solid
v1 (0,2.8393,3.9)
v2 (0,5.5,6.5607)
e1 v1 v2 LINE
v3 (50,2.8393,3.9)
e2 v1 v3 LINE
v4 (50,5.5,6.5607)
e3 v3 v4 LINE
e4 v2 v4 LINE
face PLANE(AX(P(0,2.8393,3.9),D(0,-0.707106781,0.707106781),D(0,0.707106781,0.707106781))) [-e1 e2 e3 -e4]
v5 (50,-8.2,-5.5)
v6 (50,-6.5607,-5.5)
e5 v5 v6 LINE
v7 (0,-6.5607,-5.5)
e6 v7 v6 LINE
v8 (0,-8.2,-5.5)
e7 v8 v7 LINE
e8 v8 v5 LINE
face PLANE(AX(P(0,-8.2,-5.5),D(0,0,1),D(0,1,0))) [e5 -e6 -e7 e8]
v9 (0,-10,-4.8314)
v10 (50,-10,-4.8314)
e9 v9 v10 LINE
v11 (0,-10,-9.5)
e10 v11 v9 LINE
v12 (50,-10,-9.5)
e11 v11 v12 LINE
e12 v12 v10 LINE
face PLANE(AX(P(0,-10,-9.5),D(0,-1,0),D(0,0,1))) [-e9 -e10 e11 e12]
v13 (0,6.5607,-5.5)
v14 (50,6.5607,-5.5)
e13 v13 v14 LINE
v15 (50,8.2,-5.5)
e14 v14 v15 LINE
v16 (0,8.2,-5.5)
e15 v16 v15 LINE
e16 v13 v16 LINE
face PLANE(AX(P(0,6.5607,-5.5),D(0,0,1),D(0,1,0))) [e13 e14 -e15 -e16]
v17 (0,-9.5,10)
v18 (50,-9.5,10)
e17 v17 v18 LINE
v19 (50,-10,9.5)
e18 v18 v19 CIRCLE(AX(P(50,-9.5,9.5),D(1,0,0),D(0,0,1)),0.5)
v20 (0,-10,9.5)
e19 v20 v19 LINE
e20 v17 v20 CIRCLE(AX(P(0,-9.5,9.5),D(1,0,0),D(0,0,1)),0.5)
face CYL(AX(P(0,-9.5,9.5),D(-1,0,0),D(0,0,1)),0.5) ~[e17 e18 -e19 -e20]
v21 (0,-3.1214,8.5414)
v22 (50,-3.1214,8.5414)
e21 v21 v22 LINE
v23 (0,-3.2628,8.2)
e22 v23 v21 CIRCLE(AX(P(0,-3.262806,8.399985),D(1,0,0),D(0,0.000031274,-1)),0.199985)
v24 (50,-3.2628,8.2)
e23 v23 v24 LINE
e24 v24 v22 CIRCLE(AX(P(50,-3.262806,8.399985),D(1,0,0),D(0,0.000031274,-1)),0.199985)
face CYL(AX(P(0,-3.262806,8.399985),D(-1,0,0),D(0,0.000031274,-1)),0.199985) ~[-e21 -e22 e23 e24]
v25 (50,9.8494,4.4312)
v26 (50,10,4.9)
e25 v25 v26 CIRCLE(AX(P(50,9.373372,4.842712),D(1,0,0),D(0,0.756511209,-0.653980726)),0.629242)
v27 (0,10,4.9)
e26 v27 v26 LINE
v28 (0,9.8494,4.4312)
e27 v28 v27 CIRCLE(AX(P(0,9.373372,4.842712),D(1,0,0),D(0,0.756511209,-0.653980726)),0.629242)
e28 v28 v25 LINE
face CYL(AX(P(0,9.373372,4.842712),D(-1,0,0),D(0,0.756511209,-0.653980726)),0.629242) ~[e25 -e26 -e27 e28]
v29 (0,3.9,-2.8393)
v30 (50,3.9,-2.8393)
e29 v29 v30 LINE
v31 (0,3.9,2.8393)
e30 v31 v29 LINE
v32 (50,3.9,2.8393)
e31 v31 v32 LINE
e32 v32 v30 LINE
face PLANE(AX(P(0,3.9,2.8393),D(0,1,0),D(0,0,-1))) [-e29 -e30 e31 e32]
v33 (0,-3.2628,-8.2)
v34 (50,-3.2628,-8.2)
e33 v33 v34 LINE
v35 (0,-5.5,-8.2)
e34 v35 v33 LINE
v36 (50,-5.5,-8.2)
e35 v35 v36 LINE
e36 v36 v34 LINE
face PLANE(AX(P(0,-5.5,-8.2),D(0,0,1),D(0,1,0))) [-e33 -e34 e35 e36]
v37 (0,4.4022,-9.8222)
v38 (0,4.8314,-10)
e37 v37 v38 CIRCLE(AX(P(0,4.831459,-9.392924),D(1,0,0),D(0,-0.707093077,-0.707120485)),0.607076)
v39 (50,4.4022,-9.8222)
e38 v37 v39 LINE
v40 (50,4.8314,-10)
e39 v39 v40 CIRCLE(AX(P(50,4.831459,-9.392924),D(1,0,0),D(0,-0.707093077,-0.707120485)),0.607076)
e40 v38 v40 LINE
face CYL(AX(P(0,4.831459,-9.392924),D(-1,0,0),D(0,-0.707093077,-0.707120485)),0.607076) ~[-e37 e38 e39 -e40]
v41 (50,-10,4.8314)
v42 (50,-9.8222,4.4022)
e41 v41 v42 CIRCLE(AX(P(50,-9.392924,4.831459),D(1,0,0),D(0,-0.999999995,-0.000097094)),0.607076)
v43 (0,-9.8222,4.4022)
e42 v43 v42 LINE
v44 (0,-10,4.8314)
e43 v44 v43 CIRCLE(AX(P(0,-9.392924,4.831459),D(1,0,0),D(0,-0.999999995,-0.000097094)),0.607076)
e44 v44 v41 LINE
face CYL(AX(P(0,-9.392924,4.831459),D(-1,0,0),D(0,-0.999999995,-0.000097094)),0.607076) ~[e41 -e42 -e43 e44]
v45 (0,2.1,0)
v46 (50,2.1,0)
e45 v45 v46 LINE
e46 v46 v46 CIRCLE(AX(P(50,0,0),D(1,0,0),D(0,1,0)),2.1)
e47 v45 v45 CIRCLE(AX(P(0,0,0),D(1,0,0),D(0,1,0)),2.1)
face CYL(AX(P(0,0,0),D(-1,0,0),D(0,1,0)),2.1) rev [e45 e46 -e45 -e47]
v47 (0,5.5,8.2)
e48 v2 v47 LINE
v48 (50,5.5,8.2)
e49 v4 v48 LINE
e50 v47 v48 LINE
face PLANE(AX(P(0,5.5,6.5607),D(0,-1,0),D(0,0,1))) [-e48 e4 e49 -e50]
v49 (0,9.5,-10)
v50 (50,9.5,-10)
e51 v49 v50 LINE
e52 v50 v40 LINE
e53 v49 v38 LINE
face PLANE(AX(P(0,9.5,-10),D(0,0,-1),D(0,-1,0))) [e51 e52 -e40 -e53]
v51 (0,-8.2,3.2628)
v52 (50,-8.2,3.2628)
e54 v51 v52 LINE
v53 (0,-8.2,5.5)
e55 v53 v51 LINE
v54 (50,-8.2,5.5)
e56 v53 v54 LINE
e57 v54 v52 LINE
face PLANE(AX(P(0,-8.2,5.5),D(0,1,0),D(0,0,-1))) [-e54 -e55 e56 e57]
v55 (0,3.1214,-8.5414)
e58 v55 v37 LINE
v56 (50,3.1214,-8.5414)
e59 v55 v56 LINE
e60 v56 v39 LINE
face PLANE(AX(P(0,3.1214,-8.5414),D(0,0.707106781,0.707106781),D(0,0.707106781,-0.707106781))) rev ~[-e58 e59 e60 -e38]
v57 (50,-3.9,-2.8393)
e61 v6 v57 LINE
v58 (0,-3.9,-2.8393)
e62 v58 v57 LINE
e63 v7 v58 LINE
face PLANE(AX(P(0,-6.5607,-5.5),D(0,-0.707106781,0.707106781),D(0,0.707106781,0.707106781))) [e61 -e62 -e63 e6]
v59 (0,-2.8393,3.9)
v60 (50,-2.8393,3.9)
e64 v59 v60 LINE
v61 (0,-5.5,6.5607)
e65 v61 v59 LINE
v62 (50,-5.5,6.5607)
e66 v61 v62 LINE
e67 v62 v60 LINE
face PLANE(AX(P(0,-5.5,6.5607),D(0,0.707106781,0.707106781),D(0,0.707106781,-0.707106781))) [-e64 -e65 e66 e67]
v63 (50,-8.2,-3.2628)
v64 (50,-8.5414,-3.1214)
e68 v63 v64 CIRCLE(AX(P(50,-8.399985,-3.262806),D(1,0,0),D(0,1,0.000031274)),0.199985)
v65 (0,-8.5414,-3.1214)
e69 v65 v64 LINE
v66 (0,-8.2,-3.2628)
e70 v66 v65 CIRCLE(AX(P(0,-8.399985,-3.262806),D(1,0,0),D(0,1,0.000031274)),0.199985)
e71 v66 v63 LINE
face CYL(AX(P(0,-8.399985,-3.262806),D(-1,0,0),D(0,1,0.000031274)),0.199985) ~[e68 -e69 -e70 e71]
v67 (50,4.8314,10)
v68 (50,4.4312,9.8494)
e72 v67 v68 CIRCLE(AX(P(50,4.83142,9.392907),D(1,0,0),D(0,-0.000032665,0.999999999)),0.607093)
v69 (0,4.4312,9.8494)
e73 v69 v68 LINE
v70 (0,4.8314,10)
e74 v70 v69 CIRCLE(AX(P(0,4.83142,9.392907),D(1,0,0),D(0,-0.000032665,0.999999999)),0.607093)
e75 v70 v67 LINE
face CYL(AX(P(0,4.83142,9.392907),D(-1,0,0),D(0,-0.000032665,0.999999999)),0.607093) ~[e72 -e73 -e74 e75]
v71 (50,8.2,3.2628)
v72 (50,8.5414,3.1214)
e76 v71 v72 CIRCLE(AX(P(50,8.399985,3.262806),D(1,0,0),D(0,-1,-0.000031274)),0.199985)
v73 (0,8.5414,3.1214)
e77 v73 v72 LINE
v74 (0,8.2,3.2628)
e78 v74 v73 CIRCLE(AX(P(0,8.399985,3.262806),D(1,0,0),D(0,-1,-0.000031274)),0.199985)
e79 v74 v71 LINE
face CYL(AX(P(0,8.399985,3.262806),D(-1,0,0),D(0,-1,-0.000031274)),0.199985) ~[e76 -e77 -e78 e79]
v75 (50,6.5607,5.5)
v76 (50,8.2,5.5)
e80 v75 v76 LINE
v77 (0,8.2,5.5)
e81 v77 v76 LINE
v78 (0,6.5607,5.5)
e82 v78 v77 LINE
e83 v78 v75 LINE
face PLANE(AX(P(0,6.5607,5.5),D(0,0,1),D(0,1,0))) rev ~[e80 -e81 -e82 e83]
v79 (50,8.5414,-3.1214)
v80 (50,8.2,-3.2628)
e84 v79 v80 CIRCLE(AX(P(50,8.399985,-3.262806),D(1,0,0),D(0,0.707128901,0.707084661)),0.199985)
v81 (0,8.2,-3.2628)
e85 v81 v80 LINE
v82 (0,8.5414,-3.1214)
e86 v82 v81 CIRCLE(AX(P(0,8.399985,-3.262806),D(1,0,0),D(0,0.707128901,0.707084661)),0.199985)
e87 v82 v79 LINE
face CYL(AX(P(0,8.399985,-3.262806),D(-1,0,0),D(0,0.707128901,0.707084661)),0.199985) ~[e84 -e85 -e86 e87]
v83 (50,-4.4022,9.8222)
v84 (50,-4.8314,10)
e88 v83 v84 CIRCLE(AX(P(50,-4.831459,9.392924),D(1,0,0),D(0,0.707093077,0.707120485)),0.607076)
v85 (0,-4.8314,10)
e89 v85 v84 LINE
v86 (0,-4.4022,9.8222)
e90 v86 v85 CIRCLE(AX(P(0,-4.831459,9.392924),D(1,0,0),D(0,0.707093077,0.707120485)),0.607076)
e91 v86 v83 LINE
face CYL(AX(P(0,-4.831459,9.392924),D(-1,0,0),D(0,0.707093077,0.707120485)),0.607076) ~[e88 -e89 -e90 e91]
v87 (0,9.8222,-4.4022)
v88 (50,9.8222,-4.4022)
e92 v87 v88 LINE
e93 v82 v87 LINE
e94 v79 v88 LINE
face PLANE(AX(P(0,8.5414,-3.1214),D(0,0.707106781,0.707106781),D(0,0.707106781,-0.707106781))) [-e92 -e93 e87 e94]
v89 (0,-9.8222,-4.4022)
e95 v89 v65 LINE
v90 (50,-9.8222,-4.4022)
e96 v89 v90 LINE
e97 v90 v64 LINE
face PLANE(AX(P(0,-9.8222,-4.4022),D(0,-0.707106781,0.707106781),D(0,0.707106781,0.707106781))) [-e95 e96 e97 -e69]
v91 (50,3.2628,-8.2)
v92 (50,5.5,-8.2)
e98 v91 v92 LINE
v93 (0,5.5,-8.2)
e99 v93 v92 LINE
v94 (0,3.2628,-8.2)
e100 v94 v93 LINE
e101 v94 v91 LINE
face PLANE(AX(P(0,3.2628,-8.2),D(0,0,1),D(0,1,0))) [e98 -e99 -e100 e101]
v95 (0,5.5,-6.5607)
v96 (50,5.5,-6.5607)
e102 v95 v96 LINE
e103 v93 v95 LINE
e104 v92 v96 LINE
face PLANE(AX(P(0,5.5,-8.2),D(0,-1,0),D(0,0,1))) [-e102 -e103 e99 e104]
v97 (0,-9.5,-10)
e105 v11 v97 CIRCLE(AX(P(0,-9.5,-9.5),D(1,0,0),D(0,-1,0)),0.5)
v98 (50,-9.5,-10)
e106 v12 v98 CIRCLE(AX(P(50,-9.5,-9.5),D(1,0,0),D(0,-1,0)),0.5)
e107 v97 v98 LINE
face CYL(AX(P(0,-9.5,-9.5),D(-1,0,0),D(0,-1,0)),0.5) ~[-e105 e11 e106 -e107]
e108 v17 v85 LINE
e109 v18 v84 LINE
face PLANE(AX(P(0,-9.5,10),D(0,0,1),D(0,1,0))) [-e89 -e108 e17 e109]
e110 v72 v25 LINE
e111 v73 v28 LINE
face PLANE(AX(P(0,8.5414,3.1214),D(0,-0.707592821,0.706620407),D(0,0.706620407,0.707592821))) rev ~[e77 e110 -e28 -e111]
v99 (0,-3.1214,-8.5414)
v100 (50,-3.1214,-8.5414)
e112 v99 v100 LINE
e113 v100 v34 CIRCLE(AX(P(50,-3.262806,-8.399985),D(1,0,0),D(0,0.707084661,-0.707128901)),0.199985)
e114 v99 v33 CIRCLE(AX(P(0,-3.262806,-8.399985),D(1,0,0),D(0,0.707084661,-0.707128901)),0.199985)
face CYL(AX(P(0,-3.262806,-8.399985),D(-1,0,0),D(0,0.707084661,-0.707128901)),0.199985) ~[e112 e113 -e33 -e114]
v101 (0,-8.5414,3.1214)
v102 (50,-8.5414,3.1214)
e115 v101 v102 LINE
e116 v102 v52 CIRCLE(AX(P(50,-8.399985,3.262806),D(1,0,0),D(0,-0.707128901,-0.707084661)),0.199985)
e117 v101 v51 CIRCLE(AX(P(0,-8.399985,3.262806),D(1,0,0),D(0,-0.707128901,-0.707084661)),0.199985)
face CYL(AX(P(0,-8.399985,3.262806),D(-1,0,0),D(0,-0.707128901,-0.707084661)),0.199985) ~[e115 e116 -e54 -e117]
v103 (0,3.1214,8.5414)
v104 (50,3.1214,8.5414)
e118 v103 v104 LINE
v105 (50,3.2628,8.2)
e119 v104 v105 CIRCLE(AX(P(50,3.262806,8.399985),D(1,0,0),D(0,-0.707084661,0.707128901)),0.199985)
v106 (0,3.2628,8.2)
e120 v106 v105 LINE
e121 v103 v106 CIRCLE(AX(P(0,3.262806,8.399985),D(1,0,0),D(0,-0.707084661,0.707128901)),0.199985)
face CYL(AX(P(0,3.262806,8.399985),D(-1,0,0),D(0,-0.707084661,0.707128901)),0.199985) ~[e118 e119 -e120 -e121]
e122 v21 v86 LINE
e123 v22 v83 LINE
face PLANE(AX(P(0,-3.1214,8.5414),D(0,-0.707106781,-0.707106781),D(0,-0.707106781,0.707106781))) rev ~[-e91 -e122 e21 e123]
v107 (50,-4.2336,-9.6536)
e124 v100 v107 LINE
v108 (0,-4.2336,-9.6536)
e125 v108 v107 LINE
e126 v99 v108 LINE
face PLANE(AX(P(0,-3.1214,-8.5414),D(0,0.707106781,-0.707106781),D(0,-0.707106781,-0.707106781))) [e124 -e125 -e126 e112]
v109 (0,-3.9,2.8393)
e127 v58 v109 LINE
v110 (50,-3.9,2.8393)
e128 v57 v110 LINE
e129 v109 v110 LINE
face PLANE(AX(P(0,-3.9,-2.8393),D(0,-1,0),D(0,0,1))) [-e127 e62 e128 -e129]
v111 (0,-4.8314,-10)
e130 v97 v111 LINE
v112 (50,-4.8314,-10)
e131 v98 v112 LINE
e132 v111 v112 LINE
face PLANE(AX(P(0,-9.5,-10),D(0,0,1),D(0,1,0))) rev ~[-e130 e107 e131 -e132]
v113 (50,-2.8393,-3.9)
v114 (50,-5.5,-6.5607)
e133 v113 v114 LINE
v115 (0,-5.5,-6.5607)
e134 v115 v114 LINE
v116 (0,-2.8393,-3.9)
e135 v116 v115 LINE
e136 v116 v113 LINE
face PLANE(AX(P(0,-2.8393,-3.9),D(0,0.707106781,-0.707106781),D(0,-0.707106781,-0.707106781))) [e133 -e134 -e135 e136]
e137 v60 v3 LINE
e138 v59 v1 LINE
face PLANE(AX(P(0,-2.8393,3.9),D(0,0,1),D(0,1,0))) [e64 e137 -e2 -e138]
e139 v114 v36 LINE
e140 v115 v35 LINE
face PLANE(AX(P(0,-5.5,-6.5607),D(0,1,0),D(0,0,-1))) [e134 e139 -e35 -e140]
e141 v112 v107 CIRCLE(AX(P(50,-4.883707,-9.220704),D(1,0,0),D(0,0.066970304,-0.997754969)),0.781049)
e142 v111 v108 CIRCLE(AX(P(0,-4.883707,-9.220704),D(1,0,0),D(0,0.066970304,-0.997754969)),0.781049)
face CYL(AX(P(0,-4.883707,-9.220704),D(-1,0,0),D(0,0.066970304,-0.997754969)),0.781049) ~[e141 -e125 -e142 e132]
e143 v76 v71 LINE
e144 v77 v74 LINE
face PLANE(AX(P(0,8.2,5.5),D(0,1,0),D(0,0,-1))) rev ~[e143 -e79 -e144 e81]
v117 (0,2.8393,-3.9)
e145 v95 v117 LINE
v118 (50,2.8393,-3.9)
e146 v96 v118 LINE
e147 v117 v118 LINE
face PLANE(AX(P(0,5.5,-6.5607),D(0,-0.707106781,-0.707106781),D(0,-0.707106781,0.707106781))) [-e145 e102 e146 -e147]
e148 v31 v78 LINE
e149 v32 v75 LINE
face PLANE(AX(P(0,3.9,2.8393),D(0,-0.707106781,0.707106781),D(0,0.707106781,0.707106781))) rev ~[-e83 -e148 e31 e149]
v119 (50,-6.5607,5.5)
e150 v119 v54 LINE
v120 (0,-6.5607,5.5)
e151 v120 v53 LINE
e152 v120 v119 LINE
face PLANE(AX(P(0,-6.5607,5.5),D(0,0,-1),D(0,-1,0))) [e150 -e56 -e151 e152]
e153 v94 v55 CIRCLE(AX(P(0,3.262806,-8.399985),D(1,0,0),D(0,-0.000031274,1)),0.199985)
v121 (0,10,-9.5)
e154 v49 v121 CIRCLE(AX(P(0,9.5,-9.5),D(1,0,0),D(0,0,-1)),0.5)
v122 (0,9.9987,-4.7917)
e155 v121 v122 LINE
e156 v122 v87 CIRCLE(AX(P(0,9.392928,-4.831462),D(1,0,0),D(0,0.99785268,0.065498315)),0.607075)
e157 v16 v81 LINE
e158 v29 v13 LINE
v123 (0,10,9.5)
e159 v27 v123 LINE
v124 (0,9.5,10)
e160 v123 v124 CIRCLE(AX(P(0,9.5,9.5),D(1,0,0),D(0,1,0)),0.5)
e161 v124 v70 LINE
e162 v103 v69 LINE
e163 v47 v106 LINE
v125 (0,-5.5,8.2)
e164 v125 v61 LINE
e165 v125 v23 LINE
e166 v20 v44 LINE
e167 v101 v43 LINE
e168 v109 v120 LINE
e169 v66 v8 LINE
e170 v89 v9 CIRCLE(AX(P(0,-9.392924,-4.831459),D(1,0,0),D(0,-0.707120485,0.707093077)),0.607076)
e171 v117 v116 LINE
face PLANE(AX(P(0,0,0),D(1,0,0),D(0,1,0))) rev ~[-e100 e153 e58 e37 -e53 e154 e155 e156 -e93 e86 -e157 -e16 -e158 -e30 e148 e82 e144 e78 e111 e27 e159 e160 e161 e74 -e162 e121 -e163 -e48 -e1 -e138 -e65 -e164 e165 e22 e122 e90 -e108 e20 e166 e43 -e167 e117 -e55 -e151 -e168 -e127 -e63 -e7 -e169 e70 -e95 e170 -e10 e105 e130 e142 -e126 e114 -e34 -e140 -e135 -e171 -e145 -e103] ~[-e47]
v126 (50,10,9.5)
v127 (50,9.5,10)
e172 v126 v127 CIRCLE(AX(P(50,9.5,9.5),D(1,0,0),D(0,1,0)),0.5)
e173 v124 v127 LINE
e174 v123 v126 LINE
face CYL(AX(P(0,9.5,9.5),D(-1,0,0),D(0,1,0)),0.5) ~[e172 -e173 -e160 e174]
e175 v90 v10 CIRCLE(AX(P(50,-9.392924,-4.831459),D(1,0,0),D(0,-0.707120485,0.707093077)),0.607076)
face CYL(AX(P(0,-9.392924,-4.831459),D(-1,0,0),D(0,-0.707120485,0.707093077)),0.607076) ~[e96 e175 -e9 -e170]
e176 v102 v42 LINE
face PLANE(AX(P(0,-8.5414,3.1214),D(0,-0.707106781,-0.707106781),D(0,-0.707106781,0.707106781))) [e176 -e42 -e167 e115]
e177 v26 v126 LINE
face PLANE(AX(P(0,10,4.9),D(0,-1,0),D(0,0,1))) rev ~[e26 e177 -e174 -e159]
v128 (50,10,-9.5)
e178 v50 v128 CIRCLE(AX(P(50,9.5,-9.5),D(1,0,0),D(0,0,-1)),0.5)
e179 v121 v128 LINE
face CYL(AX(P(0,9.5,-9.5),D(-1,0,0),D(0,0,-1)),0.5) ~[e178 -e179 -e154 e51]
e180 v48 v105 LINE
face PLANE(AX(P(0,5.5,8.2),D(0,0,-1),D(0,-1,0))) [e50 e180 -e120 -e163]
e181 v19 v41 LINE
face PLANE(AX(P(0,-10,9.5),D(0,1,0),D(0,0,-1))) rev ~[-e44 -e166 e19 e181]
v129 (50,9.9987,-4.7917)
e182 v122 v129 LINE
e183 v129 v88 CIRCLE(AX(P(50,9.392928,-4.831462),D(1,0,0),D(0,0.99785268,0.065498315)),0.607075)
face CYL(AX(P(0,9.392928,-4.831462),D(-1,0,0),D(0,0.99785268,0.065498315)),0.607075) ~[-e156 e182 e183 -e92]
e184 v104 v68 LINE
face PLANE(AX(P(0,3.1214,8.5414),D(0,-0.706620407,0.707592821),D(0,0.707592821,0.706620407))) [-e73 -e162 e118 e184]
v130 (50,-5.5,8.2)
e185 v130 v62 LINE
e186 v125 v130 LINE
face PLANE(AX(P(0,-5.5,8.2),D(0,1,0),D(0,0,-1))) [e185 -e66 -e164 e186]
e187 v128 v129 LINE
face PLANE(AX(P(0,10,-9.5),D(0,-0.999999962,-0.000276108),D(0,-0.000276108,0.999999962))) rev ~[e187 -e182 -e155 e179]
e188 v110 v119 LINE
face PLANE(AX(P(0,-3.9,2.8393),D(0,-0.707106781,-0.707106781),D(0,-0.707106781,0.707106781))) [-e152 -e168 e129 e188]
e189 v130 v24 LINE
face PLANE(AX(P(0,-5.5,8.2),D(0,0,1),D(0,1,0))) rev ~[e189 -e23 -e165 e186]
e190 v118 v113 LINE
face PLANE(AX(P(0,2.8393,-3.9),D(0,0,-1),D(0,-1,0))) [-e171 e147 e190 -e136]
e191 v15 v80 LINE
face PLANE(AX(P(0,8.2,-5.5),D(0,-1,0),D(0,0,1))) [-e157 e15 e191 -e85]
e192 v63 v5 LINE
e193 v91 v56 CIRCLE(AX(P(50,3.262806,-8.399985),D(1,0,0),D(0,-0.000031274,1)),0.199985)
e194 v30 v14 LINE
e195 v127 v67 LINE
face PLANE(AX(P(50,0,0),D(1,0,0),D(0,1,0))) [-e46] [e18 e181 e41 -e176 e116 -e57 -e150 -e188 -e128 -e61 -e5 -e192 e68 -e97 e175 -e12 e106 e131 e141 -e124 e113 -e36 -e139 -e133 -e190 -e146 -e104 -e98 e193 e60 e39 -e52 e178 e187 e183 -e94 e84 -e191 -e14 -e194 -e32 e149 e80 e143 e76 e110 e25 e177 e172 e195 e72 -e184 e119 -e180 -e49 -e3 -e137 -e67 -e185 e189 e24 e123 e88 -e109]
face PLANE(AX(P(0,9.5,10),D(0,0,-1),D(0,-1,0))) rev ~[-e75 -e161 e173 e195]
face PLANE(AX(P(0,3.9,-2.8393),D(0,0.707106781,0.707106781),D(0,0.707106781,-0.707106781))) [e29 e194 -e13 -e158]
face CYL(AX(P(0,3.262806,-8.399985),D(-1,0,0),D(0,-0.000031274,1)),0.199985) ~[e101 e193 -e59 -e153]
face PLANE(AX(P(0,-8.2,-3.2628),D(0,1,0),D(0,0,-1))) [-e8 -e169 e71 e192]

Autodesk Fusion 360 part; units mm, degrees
sketch "Sketch1" plane through (0, 0, 0) normal (1, 0, 0) x (0, 1, 0)
  line L0 (4.6363, -9.9678) -> (4.6743, -9.9793) construction
  line L1 (-9.9374, 4.563) -> (-9.9187, 4.5279) construction
  line L2 (8.5, -10) -> (9.5, -10) construction
  line L3 (10, -9.5) -> (10, -8.5) construction
  line L4 (-9.8746, 4.4619) -> (-9.8494, 4.4312) construction
  line L5 (-9.9187, 4.5279) -> (-9.8977, 4.4942) construction
  line L6 (9.9987, -4.7917) -> (9.9948, -4.7522) construction
  line L7 (9.8977, -4.4942) -> (9.8746, -4.4619) construction
  arc A0 (-8.5414, 3.1214) -> (-8.2, 3.2628) centre (-8.4, 3.2628) ccw construction
  line L8 (10, -4.9) -> (9.9987, -4.7917) construction
  line L9 (-3.9, 2.8393) -> (-3.9, 0.1999) construction
  line L10 (-9.8977, 4.4942) -> (-9.8746, 4.4619) construction
  line L11 (-10, 4.8314) -> (-9.9987, 4.7917) construction
  line L12 (-9.8494, 4.4312) -> (-9.8222, 4.4022) construction
  line L13 (8.2, -5.5) -> (6.5607, -5.5) construction
  line L14 (-6.5607, 5.5) -> (-3.9, 2.8393) construction
  line L15 (5.5, -6.5607) -> (5.5, -8.2) construction
  line L16 (-3.9, 0.1999) -> (-3.7001, 0) construction
  line L17 (6.5607, -5.5) -> (3.9, -2.8393) construction
  line L18 (9.9987, 4.7917) -> (10, 4.9) construction
  line L19 (8.2, -3.2628) -> (8.2, -5.5) construction
  line L20 (-4.4942, 9.8977) -> (-4.5279, 9.9187) construction
  line L21 (9.9948, 4.7522) -> (9.9987, 4.7917) construction
  line L22 (9.8746, -4.4619) -> (9.8494, -4.4312) construction
  line L23 (9.9374, -4.563) -> (9.9187, -4.5279) construction
  line L24 (10, 8.5) -> (10, 9.5) construction
  line L25 (4.4312, -9.8494) -> (4.4619, -9.8746) construction
  line L26 (-8.2, 3.2628) -> (-8.2, 5.5) construction
  line L27 (4.4619, -9.8746) -> (4.4942, -9.8977) construction
  line L28 (-9.9883, 4.713) -> (-9.9793, 4.6743) construction
  line L29 (9.9883, 4.713) -> (9.9948, 4.7522) construction
  line L30 (-4.4312, 9.8494) -> (-4.4619, 9.8746) construction
  line L31 (10, 4.9) -> (10, 8.5) construction
  arc A1 (9.5, -10) -> (10, -9.5) centre (9.5, -9.5) ccw construction
  line L32 (9.9678, -4.6363) -> (9.9538, -4.5991) construction
  arc A2 (10, 9.5) -> (9.5, 10) centre (9.5, 9.5) ccw construction
  line L33 (4.5991, -9.9538) -> (4.6363, -9.9678) construction
  line L34 (-9.9538, 4.5991) -> (-9.9374, 4.563) construction
  line L35 (-9.9793, 4.6743) -> (-9.9678, 4.6363) construction
  line L36 (4.563, -9.9374) -> (4.5991, -9.9538) construction
  line L37 (1.1358, -3.9) -> (1.1358, -10) construction
  line L38 (-0.2048, -3.9) -> (0, -3.6952) construction
  line L39 (8.5414, 3.1214) -> (9.8222, 4.4022) construction
  line L40 (2.8393, 3.9) -> (0.207, 3.9) construction
  line L41 (0.207, 3.9) -> (0, 3.6952) construction
  line L42 (3.9, -0.1999) -> (3.7001, 0) construction
  line L43 (3.9, -2.8393) -> (3.9, -0.1999) construction
  line L44 (-3.9, -0.1999) -> (-3.9, -2.8393) construction
  line L45 (3.9, 0.1999) -> (3.9, 2.8393) construction
  line L46 (2.8393, 3.9) -> (0.207, 3.9) construction
  line L47 (0, 3.6952) -> (-0.2048, 3.9) construction
  line L48 (3.9, 2.8393) -> (6.5607, 5.5) construction
  line L49 (3.7001, 0) -> (3.9, 0.1999) construction
  line L50 (3.9, 0.1999) -> (3.9, 2.8393) construction
  arc A3 (-3.1214, -8.5414) -> (-3.2628, -8.2) centre (-3.2628, -8.4) ccw construction
  line L51 (0, -3.6952) -> (0.2048, -3.9) construction
  line L52 (-2.8393, -3.9) -> (-0.2048, -3.9) construction
  line L53 (3.9, -0.1999) -> (3.7001, 0) construction
  circle A4 centre (0, 0) radius 2.1 construction
  line L54 (3.7001, 0) -> (3.9, 0.1999) construction
  arc A5 (8.2, 3.2628) -> (8.5414, 3.1214) centre (8.4, 3.2628) ccw construction
  circle A6 centre (0, 0) radius 2.1 construction
  line L55 (5.5, 8.2) -> (5.5, 6.5607) construction
  line L56 (-4.6363, -9.9678) -> (-4.5991, -9.9538) construction
  line L57 (9.9883, 4.713) -> (9.9948, 4.7522) construction
  line L58 (3.2628, 8.2) -> (5.5, 8.2) construction
  line L59 (9.9538, 4.5991) -> (9.9678, 4.6363) construction
  arc A7 (8.2, 3.2628) -> (8.5414, 3.1214) centre (8.4, 3.2628) ccw construction
  line L60 (4.5991, 9.9538) -> (4.563, 9.9374) construction
  line L61 (-9.9538, -4.5991) -> (-9.9678, -4.6363) construction
  line L62 (-9.8977, -4.4942) -> (-9.9187, -4.5279) construction
  line L63 (-4.5279, -9.9187) -> (-4.4942, -9.8977) construction
  line L64 (0, 3.6952) -> (-0.2048, 3.9) construction
  arc A8 (3.1214, 8.5414) -> (3.2628, 8.2) centre (3.2628, 8.4) ccw construction
  line L65 (-9.8494, -4.4312) -> (-9.8746, -4.4619) construction
  line L66 (4.4942, 9.8977) -> (4.4619, 9.8746) construction
  line L67 (4.713, 9.9883) -> (4.6743, 9.9793) construction
  line L68 (-8.5, -10) -> (-4.8314, -10) construction
  line L69 (-9.5, -10) -> (-8.5, -10) construction
  line L70 (9.8222, 4.4022) -> (9.8494, 4.4312) construction
  line L71 (4.8314, 10) -> (4.7917, 9.9987) construction
  line L72 (-9.9948, -4.7522) -> (-9.9987, -4.7917) construction
  line L73 (4.6743, 9.9793) -> (4.6363, 9.9678) construction
  line L74 (5.5, 6.5607) -> (2.8393, 3.9) construction
  line L75 (4.4022, 9.8222) -> (3.1214, 8.5414) construction
  line L76 (-4.5991, -9.9538) -> (-4.563, -9.9374) construction
  line L77 (9.5, 10) -> (4.8314, 10) construction
  line L78 (0.207, 3.9) -> (0, 3.6952) construction
  line L79 (4.6363, 9.9678) -> (4.5991, 9.9538) construction
  line L80 (-9.9883, -4.713) -> (-9.9948, -4.7522) construction
  line L81 (4.7522, 9.9948) -> (4.713, 9.9883) construction
  line L82 (-4.4312, -9.8494) -> (-4.4022, -9.8222) construction
  line L83 (9.8746, 4.4619) -> (9.8977, 4.4942) construction
  line L84 (-8.2, -5.5) -> (-8.2, -3.2628) construction
  line L85 (10, 8.5) -> (10, 9.5) construction
  line L86 (3.2628, 8.2) -> (5.5, 8.2) construction
  arc A9 (3.1214, 8.5414) -> (3.2628, 8.2) centre (3.2628, 8.4) ccw construction
  arc A10 (10, 9.5) -> (9.5, 10) centre (9.5, 9.5) ccw construction
  line L87 (4.4619, 9.8746) -> (4.4312, 9.8494) construction
  line L88 (4.5279, 9.9187) -> (4.4942, 9.8977) construction
  line L89 (-4.6743, -9.9793) -> (-4.6363, -9.9678) construction
  line L90 (-4.7917, -9.9987) -> (-4.7522, -9.9948) construction
  line L91 (-9.9678, -4.6363) -> (-9.9793, -4.6743) construction
  line L92 (9.9793, 4.6743) -> (9.9883, 4.713) construction
  line L93 (-4.8314, -10) -> (-4.7917, -9.9987) construction
  line L94 (-9.9987, -4.7917) -> (-10, -4.8314) construction
  line L95 (5.5, 8.2) -> (5.5, 6.5607) construction
  line L96 (9.8977, 4.4942) -> (9.9187, 4.5279) construction
  arc A11 (-8.2, -3.2628) -> (-8.5414, -3.1214) centre (-8.4, -3.2628) ccw construction
  line L97 (-8.5414, -3.1214) -> (-9.8222, -4.4022) construction
  line L98 (4.563, 9.9374) -> (4.5279, 9.9187) construction
  line L99 (9.9374, 4.563) -> (9.9538, 4.5991) construction
  line L100 (9.8494, 4.4312) -> (9.8746, 4.4619) construction
  line L101 (-4.4942, -9.8977) -> (-4.4619, -9.8746) construction
  line L102 (-9.9187, -4.5279) -> (-9.9374, -4.563) construction
  arc A12 (-10, -9.5) -> (-9.5, -10) centre (-9.5, -9.5) ccw construction
  line L103 (-4.563, -9.9374) -> (-4.5279, -9.9187) construction
  line L104 (4.4022, 9.8222) -> (3.1214, 8.5414) construction
  line L105 (-6.5607, -5.5) -> (-8.2, -5.5) construction
  line L106 (10, 4.9) -> (10, 8.5) construction
  line L107 (3.9, 2.8393) -> (6.5607, 5.5) construction
  line L108 (4.4312, 9.8494) -> (4.4022, 9.8222) construction
  line L109 (9.9678, 4.6363) -> (9.9793, 4.6743) construction
  line L110 (-4.4619, -9.8746) -> (-4.4312, -9.8494) construction
  line L111 (-4.7522, -9.9948) -> (-4.713, -9.9883) construction
  line L112 (-10, -4.8314) -> (-10, -9.5) construction
  line L113 (4.5279, 9.9187) -> (4.4942, 9.8977) construction
  line L114 (9.9948, 4.7522) -> (9.9987, 4.7917) construction
  line L115 (4.7917, 9.9987) -> (4.7522, 9.9948) construction
  line L116 (4.563, 9.9374) -> (4.5279, 9.9187) construction
  line L117 (5.5, 6.5607) -> (2.8393, 3.9) construction
  line L118 (4.4619, 9.8746) -> (4.4312, 9.8494) construction
  line L119 (4.4942, 9.8977) -> (4.4619, 9.8746) construction
  line L120 (4.5991, 9.9538) -> (4.563, 9.9374) construction
  line L121 (-5.5, -8.2) -> (-5.5, -6.5607) construction
  line L122 (9.9987, 4.7917) -> (10, 4.9) construction
  line L123 (8.2, 5.5) -> (8.2, 3.2628) construction
  line L124 (4.4312, 9.8494) -> (4.4022, 9.8222) construction
  line L125 (-9.8746, -4.4619) -> (-9.8977, -4.4942) construction
  line L126 (-4.713, -9.9883) -> (-4.6743, -9.9793) construction
  line L127 (9.9187, 4.5279) -> (9.9374, 4.563) construction
  line L128 (6.5607, 5.5) -> (8.2, 5.5) construction
  line L129 (-9.9793, -4.6743) -> (-9.9883, -4.713) construction
  line L130 (-5.5, -6.5607) -> (-2.8393, -3.9) construction
  line L131 (8.5414, 3.1214) -> (9.8222, 4.4022) construction
  line L132 (-3.9, -2.8393) -> (-6.5607, -5.5) construction
  line L133 (4.713, 9.9883) -> (4.6743, 9.9793) construction
  line L134 (4.7917, 9.9987) -> (4.7522, 9.9948) construction
  line L135 (-4.4022, -9.8222) -> (-3.1214, -8.5414) construction
  line L136 (-9.9987, 4.7917) -> (-9.9948, 4.7522) construction
  line L137 (4.6363, 9.9678) -> (4.5991, 9.9538) construction
  line L138 (4.8314, 10) -> (4.7917, 9.9987) construction
  line L139 (-9.9948, 4.7522) -> (-9.9883, 4.713) construction
  line L140 (4.6743, 9.9793) -> (4.6363, 9.9678) construction
  line L141 (-8.2, 5.5) -> (-6.5607, 5.5) construction
  line L142 (-3.7001, 0) -> (-3.9, -0.1999) construction
  line L143 (-9.9678, 4.6363) -> (-9.9538, 4.5991) construction
  line L144 (-9.8222, 4.4022) -> (-8.5414, 3.1214) construction
  line L145 (-9.9374, -4.563) -> (-9.9538, -4.5991) construction
  line L146 (-9.8222, -4.4022) -> (-9.8494, -4.4312) construction
  line L147 (4.7522, 9.9948) -> (4.713, 9.9883) construction
  line L148 (-3.2628, -8.2) -> (-5.5, -8.2) construction
  line L149 (4.4619, -9.8746) -> (4.4942, -9.8977) construction
  line L150 (-9.9948, 4.7522) -> (-9.9883, 4.713) construction
  line L151 (4.5279, -9.9187) -> (4.563, -9.9374) construction
  line L152 (-9.9793, 4.6743) -> (-9.9678, 4.6363) construction
  line L153 (-9.9883, 4.713) -> (-9.9793, 4.6743) construction
  line L154 (4.4312, -9.8494) -> (4.4619, -9.8746) construction
  line L155 (-9.8977, 4.4942) -> (-9.8746, 4.4619) construction
  line L156 (4.7522, -9.9948) -> (4.7917, -9.9987) construction
  line L157 (4.713, -9.9883) -> (4.7522, -9.9948) construction
  line L158 (4.4942, -9.8977) -> (4.5279, -9.9187) construction
  line L159 (4.5991, -9.9538) -> (4.6363, -9.9678) construction
  line L160 (-9.9187, 4.5279) -> (-9.8977, 4.4942) construction
  line L161 (4.6743, -9.9793) -> (4.713, -9.9883) construction
  line L162 (4.563, -9.9374) -> (4.5991, -9.9538) construction
  line L163 (-9.9678, 4.6363) -> (-9.9538, 4.5991) construction
  line L164 (-9.9538, 4.5991) -> (-9.9374, 4.563) construction
  line L165 (-9.9374, 4.563) -> (-9.9187, 4.5279) construction
  line L166 (-9.8746, 4.4619) -> (-9.8494, 4.4312) construction
  line L167 (4.6363, -9.9678) -> (4.6743, -9.9793) construction
  line L168 (-4.7522, 9.9948) -> (-4.7917, 9.9987) construction
  line L169 (9.8494, 4.4312) -> (9.8746, 4.4619) construction
  line L170 (4.5279, -9.9187) -> (4.563, -9.9374) construction
  line L171 (-4.5991, 9.9538) -> (-4.6363, 9.9678) construction
  line L172 (9.9538, -4.5991) -> (9.9374, -4.563) construction
  line L173 (-10, 9.5) -> (-10, 8.5) construction
  line L174 (9.8977, 4.4942) -> (9.9187, 4.5279) construction
  line L175 (4.8314, -10) -> (8.5, -10) construction
  line L176 (9.8746, 4.4619) -> (9.8977, 4.4942) construction
  line L177 (4.7917, -9.9987) -> (4.8314, -10) construction
  line L178 (-5.5, 8.2) -> (-3.2628, 8.2) construction
  line L179 (9.9793, 4.6743) -> (9.9883, 4.713) construction
  line L180 (4.713, -9.9883) -> (4.7522, -9.9948) construction
  arc A13 (-9.5, 10) -> (-10, 9.5) centre (-9.5, 9.5) ccw construction
  line L181 (2.8393, -3.9) -> (5.5, -6.5607) construction
  line L182 (9.8494, -4.4312) -> (9.8222, -4.4022) construction
  line L183 (9.9187, -4.5279) -> (9.8977, -4.4942) construction
  line L184 (10, -8.5) -> (10, -4.9) construction
  line L185 (-4.563, 9.9374) -> (-4.5991, 9.9538) construction
  line L186 (-4.6743, 9.9793) -> (-4.713, 9.9883) construction
  line L187 (-5.5, 6.5607) -> (-5.5, 8.2) construction
  line L188 (-4.8314, 10) -> (-8.5, 10) construction
  line L189 (9.9374, 4.563) -> (9.9538, 4.5991) construction
  line L190 (-8.5, 10) -> (-9.5, 10) construction
  line L191 (-4.7917, 9.9987) -> (-4.8314, 10) construction
  line L192 (-4.5279, 9.9187) -> (-4.563, 9.9374) construction
  line L193 (9.9538, 4.5991) -> (9.9678, 4.6363) construction
  line L194 (-4.6363, 9.9678) -> (-4.6743, 9.9793) construction
  line L195 (4.7522, -9.9948) -> (4.7917, -9.9987) construction
  line L196 (-3.1214, 8.5414) -> (-4.4022, 9.8222) construction
  line L197 (5.5, -8.2) -> (3.2628, -8.2) construction
  line L198 (9.9793, -4.6743) -> (9.9678, -4.6363) construction
  line L199 (4.6743, -9.9793) -> (4.713, -9.9883) construction
  line L200 (9.9187, 4.5279) -> (9.9374, 4.563) construction
  line L201 (9.9948, -4.7522) -> (9.9883, -4.713) construction
  line L202 (9.8222, -4.4022) -> (8.5414, -3.1214) construction
  line L203 (-4.713, 9.9883) -> (-4.7522, 9.9948) construction
  line L204 (9.9678, 4.6363) -> (9.9793, 4.6743) construction
  line L205 (9.9883, -4.713) -> (9.9793, -4.6743) construction
  arc A14 (-3.2628, 8.2) -> (-3.1214, 8.5414) centre (-3.2628, 8.4) ccw construction
  line L206 (4.4022, -9.8222) -> (4.4312, -9.8494) construction
  arc A15 (8.5414, -3.1214) -> (8.2, -3.2628) centre (8.4, -3.2628) ccw construction
  arc A16 (3.2628, -8.2) -> (3.1214, -8.5414) centre (3.2628, -8.4) ccw construction
  line L207 (9.8222, 4.4022) -> (9.8494, 4.4312) construction
  line L208 (-3.9, 0.1999) -> (-3.7001, 0) construction
  line L209 (-0.2048, 3.9) -> (-2.8393, 3.9) construction
  line L210 (8.2, 5.5) -> (8.2, 3.2628) construction
  line L211 (6.6657, -10) -> (-6.6657, -10) construction
  line L212 (-3.7001, 0) -> (-3.9, -0.1999) construction
  line L213 (4.4942, -9.8977) -> (4.5279, -9.9187) construction
  line L214 (0.2048, -3.9) -> (2.8393, -3.9) construction
  line L215 (-10, 8.5) -> (-10, 4.8314) construction
  line L216 (2.8393, -3.9) -> (5.5, -6.5607) construction
  line L217 (-2.8393, 3.9) -> (-5.5, 6.5607) construction
  line L218 (-0.2048, -3.9) -> (0, -3.6952) construction
  line L219 (5.5, -6.5607) -> (5.5, -8.2) construction
  line L220 (3.9, -2.8393) -> (3.9, -0.1999) construction
  line L221 (-4.4022, 9.8222) -> (-4.4312, 9.8494) construction
  line L222 (-0.2048, 3.9) -> (-2.8393, 3.9) construction
  line L223 (-4.4619, 9.8746) -> (-4.4942, 9.8977) construction
  line L224 (0.2048, -3.9) -> (2.8393, -3.9) construction
  line L225 (3.1214, -8.5414) -> (4.4022, -9.8222) construction
  line L226 (9.5, 10) -> (4.8314, 10) construction
  line L227 (0, -3.6952) -> (0.2048, -3.9) construction
  line L228 (6.5607, 5.5) -> (8.2, 5.5) construction
  line L229 (-2.8393, 3.9) -> (-5.5, 6.5607) construction
  line L230 (-3.9, 2.8393) -> (-3.9, 0.1999) construction
  line L231 (-6.5607, 5.5) -> (-3.9, 2.8393) construction
  arc A17 (-8.5414, 3.1214) -> (-8.2, 3.2628) centre (-8.4, 3.2628) ccw construction
  arc A18 (3.2628, -8.2) -> (3.1214, -8.5414) centre (3.2628, -8.4) ccw construction
  line L232 (-9.8222, 4.4022) -> (-8.5414, 3.1214) construction
  line L233 (-9.8494, 4.4312) -> (-9.8222, 4.4022) construction
  line L234 (-8.2, 5.5) -> (-6.5607, 5.5) construction
  line L235 (4.7917, -9.9987) -> (4.8314, -10) construction
  line L236 (8.5, -10) -> (9.5, -10) construction
  line L237 (4.8314, -10) -> (8.5, -10) construction
  line L238 (-9.5, -10) -> (-8.5, -10) construction
  line L239 (-5.5, -8.2) -> (-5.5, -6.5607) construction
  line L240 (-4.4619, -9.8746) -> (-4.4312, -9.8494) construction
  line L241 (-4.6363, -9.9678) -> (-4.5991, -9.9538) construction
  line L242 (-4.563, -9.9374) -> (-4.5279, -9.9187) construction
  line L243 (-4.7522, -9.9948) -> (-4.713, -9.9883) construction
  line L244 (-8.2, -5.5) -> (-8.2, -3.2628) construction
  arc A19 (-10, -9.5) -> (-9.5, -10) centre (-9.5, -9.5) ccw construction
  line L245 (-4.6743, -9.9793) -> (-4.6363, -9.9678) construction
  line L246 (-4.713, -9.9883) -> (-4.6743, -9.9793) construction
  line L247 (-4.5279, -9.9187) -> (-4.4942, -9.8977) construction
  line L248 (-4.5991, -9.9538) -> (-4.563, -9.9374) construction
  line L249 (-5.5, 8.2) -> (-3.2628, 8.2) construction
  line L250 (6.5607, -5.5) -> (3.9, -2.8393) construction
  line L251 (-3.2628, -8.2) -> (-5.5, -8.2) construction
  line L252 (-4.8314, -10) -> (-4.7917, -9.9987) construction
  line L253 (-4.8314, 10) -> (-8.5, 10) construction
  line L254 (8.2, -3.2628) -> (8.2, -5.5) construction
  line L255 (-4.4312, -9.8494) -> (-4.4022, -9.8222) construction
  line L256 (10, -8.5) -> (10, -4.9) construction
  line L257 (-4.4942, -9.8977) -> (-4.4619, -9.8746) construction
  line L258 (-10, -4.8314) -> (-10, -9.5) construction
  line L259 (-8.5, -10) -> (-4.8314, -10) construction
  line L260 (-4.4022, -9.8222) -> (-3.1214, -8.5414) construction
  arc A20 (-3.1214, -8.5414) -> (-3.2628, -8.2) centre (-3.2628, -8.4) ccw construction
  line L261 (-4.7917, -9.9987) -> (-4.7522, -9.9948) construction
  arc A21 (8.5414, -3.1214) -> (8.2, -3.2628) centre (8.4, -3.2628) ccw construction
  line L262 (-6.5607, -5.5) -> (-8.2, -5.5) construction
  line L263 (-3.9, -2.8393) -> (-6.5607, -5.5) construction
  line L264 (-8.2, 3.2628) -> (-8.2, 5.5) construction
  line L265 (4.4022, -9.8222) -> (4.4312, -9.8494) construction
  line L266 (-10, 4.8314) -> (-9.9987, 4.7917) construction
  line L267 (5.5, -8.2) -> (3.2628, -8.2) construction
  line L268 (-10, 8.5) -> (-10, 4.8314) construction
  line L269 (-9.9987, 4.7917) -> (-9.9948, 4.7522) construction
  line L270 (-2.8393, -3.9) -> (-0.2048, -3.9) construction
  line L271 (3.1214, -8.5414) -> (4.4022, -9.8222) construction
  line L272 (-5.5, -6.5607) -> (-2.8393, -3.9) construction
  arc A22 (-3.2628, 8.2) -> (-3.1214, 8.5414) centre (-3.2628, 8.4) ccw construction
  line L273 (-3.9, -0.1999) -> (-3.9, -2.8393) construction
  line L274 (-4.7917, 9.9987) -> (-4.8314, 10) construction
  line L275 (9.8222, -4.4022) -> (8.5414, -3.1214) construction
  line L276 (-9.9678, -4.6363) -> (-9.9793, -4.6743) construction
  line L277 (9.9793, -4.6743) -> (9.9678, -4.6363) construction
  line L278 (-4.6363, 9.9678) -> (-4.6743, 9.9793) construction
  line L279 (-4.7522, 9.9948) -> (-4.7917, 9.9987) construction
  line L280 (-9.9374, -4.563) -> (-9.9538, -4.5991) construction
  line L281 (9.9987, -4.7917) -> (9.9948, -4.7522) construction
  line L282 (-4.5991, 9.9538) -> (-4.6363, 9.9678) construction
  line L283 (-4.713, 9.9883) -> (-4.7522, 9.9948) construction
  line L284 (-4.6743, 9.9793) -> (-4.713, 9.9883) construction
  line L285 (-9.9948, -4.7522) -> (-9.9987, -4.7917) construction
  line L286 (-9.9883, -4.713) -> (-9.9948, -4.7522) construction
  line L287 (-4.4619, 9.8746) -> (-4.4942, 9.8977) construction
  line L288 (9.8977, -4.4942) -> (9.8746, -4.4619) construction
  line L289 (9.9187, -4.5279) -> (9.8977, -4.4942) construction
  line L290 (-9.9987, -4.7917) -> (-10, -4.8314) construction
  line L291 (-4.4942, 9.8977) -> (-4.5279, 9.9187) construction
  line L292 (-4.5279, 9.9187) -> (-4.563, 9.9374) construction
  line L293 (-4.4312, 9.8494) -> (-4.4619, 9.8746) construction
  line L294 (-4.563, 9.9374) -> (-4.5991, 9.9538) construction
  line L295 (-4.4022, 9.8222) -> (-4.4312, 9.8494) construction
  line L296 (9.9374, -4.563) -> (9.9187, -4.5279) construction
  arc A23 (-8.2, -3.2628) -> (-8.5414, -3.1214) centre (-8.4, -3.2628) ccw construction
  line L297 (9.9538, -4.5991) -> (9.9374, -4.563) construction
  line L298 (9.8494, -4.4312) -> (9.8222, -4.4022) construction
  line L299 (9.8746, -4.4619) -> (9.8494, -4.4312) construction
  line L300 (9.9678, -4.6363) -> (9.9538, -4.5991) construction
  line L301 (-9.9793, -4.6743) -> (-9.9883, -4.713) construction
  line L302 (-9.9538, -4.5991) -> (-9.9678, -4.6363) construction
  line L303 (-3.1214, 8.5414) -> (-4.4022, 9.8222) construction
  line L304 (9.9883, -4.713) -> (9.9793, -4.6743) construction
  line L305 (9.9948, -4.7522) -> (9.9883, -4.713) construction
  line L306 (-9.8222, -4.4022) -> (-9.8494, -4.4312) construction
  line L307 (8.2, -5.5) -> (6.5607, -5.5) construction
  arc A24 (9.5, -10) -> (10, -9.5) centre (9.5, -9.5) ccw construction
  line L308 (-8.5414, -3.1214) -> (-9.8222, -4.4022) construction
  line L309 (10, -9.5) -> (10, -8.5) construction
  line L310 (10, -4.9) -> (9.9987, -4.7917) construction
  line L311 (-9.8977, -4.4942) -> (-9.9187, -4.5279) construction
  arc A25 (-9.5, 10) -> (-10, 9.5) centre (-9.5, 9.5) ccw construction
  line L312 (-9.8494, -4.4312) -> (-9.8746, -4.4619) construction
  line L313 (-9.9187, -4.5279) -> (-9.9374, -4.563) construction
  line L314 (-8.5, 10) -> (-9.5, 10) construction
  line L315 (-10, 9.5) -> (-10, 8.5) construction
  line L316 (-5.5, 6.5607) -> (-5.5, 8.2) construction
  line L317 (-9.8746, -4.4619) -> (-9.8977, -4.4942) construction
  line L318 (3.9, 2.8393) -> (3.9, -2.8393)
  line L319 (3.9, -2.8393) -> (6.5607, -5.5)
  line L320 (6.5607, -5.5) -> (8.2, -5.5)
  line L321 (8.2, -5.5) -> (8.2, -3.2628)
  line L322 (8.5414, -3.1214) -> (9.8222, -4.4022)
  arc A26 (8.5414, -3.1214) -> (8.2, -3.2628) centre (8.4, -3.2628) ccw
  line L323 (10, -9.5) -> (9.9987, -4.7917)
  line L324 (9.5, -10) -> (4.8314, -10)
  line L325 (3.1214, -8.5414) -> (4.4022, -9.8222)
  line L326 (3.2628, -8.2) -> (5.5, -8.2)
  line L327 (5.5, -8.2) -> (5.5, -6.5607)
  arc A27 (9.5, -10) -> (10, -9.5) centre (9.5, -9.5) ccw
  arc A28 (9.9987, -4.7917) -> (9.8222, -4.4022) centre (9.3929, -4.8314) ccw
  line L328 (5.5, -6.5607) -> (2.8393, -3.9)
  line L329 (2.8393, -3.9) -> (-2.8393, -3.9)
  line L330 (-2.8393, -3.9) -> (-5.5, -6.5607)
  line L331 (-5.5, -6.5607) -> (-5.5, -8.2)
  line L332 (-5.5, -8.2) -> (-3.2628, -8.2)
  line L333 (-3.1214, -8.5414) -> (-4.2336, -9.6536)
  line L334 (-9.5, -10) -> (-4.8314, -10)
  line L335 (-10, -9.5) -> (-10, -4.8314)
  line L336 (-9.8222, -4.4022) -> (-8.5414, -3.1214)
  line L337 (-8.2, -3.2628) -> (-8.2, -5.5)
  line L338 (-8.2, -5.5) -> (-6.5607, -5.5)
  line L339 (-6.5607, -5.5) -> (-3.9, -2.8393)
  line L340 (-3.9, -2.8393) -> (-3.9, 2.8393)
  line L341 (-3.9, 2.8393) -> (-6.5607, 5.5)
  line L342 (-6.5607, 5.5) -> (-8.2, 5.5)
  line L343 (-8.2, 5.5) -> (-8.2, 3.2628)
  line L344 (-8.5414, 3.1214) -> (-9.8222, 4.4022)
  line L345 (-10, 9.5) -> (-10, 4.8314)
  line L346 (-9.5, 10) -> (-4.8314, 10)
  line L347 (-5.5, 8.2) -> (-3.2628, 8.2)
  line L348 (-3.1214, 8.5414) -> (-4.4022, 9.8222)
  line L349 (-5.5, 8.2) -> (-5.5, 6.5607)
  line L350 (-5.5, 6.5607) -> (-2.8393, 3.9)
  line L351 (-2.8393, 3.9) -> (2.8393, 3.9)
  line L352 (2.8393, 3.9) -> (5.5, 6.5607)
  line L353 (5.5, 6.5607) -> (5.5, 8.2)
  line L354 (5.5, 8.2) -> (3.2628, 8.2)
  line L355 (3.1214, 8.5414) -> (4.4312, 9.8494)
  line L356 (3.9, 2.8393) -> (6.5607, 5.5)
  line L357 (6.5607, 5.5) -> (8.2, 5.5)
  line L358 (8.2, 5.5) -> (8.2, 3.2628)
  line L359 (8.5414, 3.1214) -> (9.8494, 4.4312)
  line L360 (10, 4.9) -> (10, 9.5)
  line L361 (9.5, 10) -> (4.8314, 10)
  arc A29 (8.2, 3.2628) -> (8.5414, 3.1214) centre (8.4, 3.2628) ccw
  arc A30 (9.8494, 4.4312) -> (10, 4.9) centre (9.3734, 4.8428) ccw
  arc A31 (10, 9.5) -> (9.5, 10) centre (9.5, 9.5) ccw
  arc A32 (4.8314, 10) -> (4.4312, 9.8494) centre (4.8314, 9.3929) ccw
  arc A33 (3.1214, 8.5414) -> (3.2628, 8.2) centre (3.2628, 8.4) ccw
  arc A34 (-3.2628, 8.2) -> (-3.1214, 8.5414) centre (-3.2628, 8.4) ccw
  arc A35 (-4.4022, 9.8222) -> (-4.8314, 10) centre (-4.8314, 9.3929) ccw
  arc A36 (-9.5, 10) -> (-10, 9.5) centre (-9.5, 9.5) ccw
  arc A37 (-10, 4.8314) -> (-9.8222, 4.4022) centre (-9.3929, 4.8314) ccw
  arc A38 (-8.5414, 3.1214) -> (-8.2, 3.2628) centre (-8.4, 3.2628) ccw
  arc A39 (-8.2, -3.2628) -> (-8.5414, -3.1214) centre (-8.4, -3.2628) ccw
  arc A40 (-9.8222, -4.4022) -> (-10, -4.8314) centre (-9.3929, -4.8314) ccw
  arc A41 (-10, -9.5) -> (-9.5, -10) centre (-9.5, -9.5) ccw
  arc A42 (-4.8314, -10) -> (-4.2336, -9.6536) centre (-4.8837, -9.2207) ccw
  arc A43 (-3.1214, -8.5414) -> (-3.2628, -8.2) centre (-3.2628, -8.4) ccw
  arc A44 (3.2628, -8.2) -> (3.1214, -8.5414) centre (3.2628, -8.4) ccw
  arc A45 (4.4022, -9.8222) -> (4.8314, -10) centre (4.8314, -9.3929) ccw
  circle A46 centre (0, 0) radius 2.1
extrude "Extrude1" add sketch "Sketch1" along normal blind 50
sketch "Sketch2" plane through (0, 0, 0) normal (-1, 0, 0) x (0, -1, 0)
  circle A0 centre (0, 0) radius 2.1
  arc A1 (-3.1214, -8.5414) -> (-3.2628, -8.2) centre (-3.2628, -8.4) ccw
  line L0 (-3.2628, -8.2) -> (-5.5, -8.2)
  line L1 (-5.5, -8.2) -> (-5.5, -6.5607)
  line L2 (-5.5, -6.5607) -> (-2.8393, -3.9)
  line L3 (-2.8393, -3.9) -> (2.8393, -3.9)
  line L4 (2.8393, -3.9) -> (5.5, -6.5607)
  line L5 (5.5, -6.5607) -> (5.5, -8.2)
  line L6 (5.5, -8.2) -> (3.2628, -8.2)
  arc A2 (3.2628, -8.2) -> (3.1214, -8.5414) centre (3.2628, -8.4) ccw
  line L7 (3.1214, -8.5414) -> (4.2336, -9.6536)
  arc A3 (4.2336, -9.6536) -> (4.8314, -10) centre (4.8837, -9.2207) ccw
  line L8 (4.8314, -10) -> (9.5, -10)
  arc A4 (9.5, -10) -> (10, -9.5) centre (9.5, -9.5) ccw
  line L9 (10, -9.5) -> (10, -4.8314)
  arc A5 (10, -4.8314) -> (9.8222, -4.4022) centre (9.3929, -4.8314) ccw
  line L10 (9.8222, -4.4022) -> (8.5414, -3.1214)
  arc A6 (8.5414, -3.1214) -> (8.2, -3.2628) centre (8.4, -3.2628) ccw
  line L11 (8.2, -3.2628) -> (8.2, -5.5)
  line L12 (8.2, -5.5) -> (6.5607, -5.5)
  line L13 (6.5607, -5.5) -> (3.9, -2.8393)
  line L14 (3.9, -2.8393) -> (3.9, 2.8393)
  line L15 (3.9, 2.8393) -> (6.5607, 5.5)
  line L16 (6.5607, 5.5) -> (8.2, 5.5)
  line L17 (8.2, 5.5) -> (8.2, 3.2628)
  arc A7 (8.2, 3.2628) -> (8.5414, 3.1214) centre (8.4, 3.2628) ccw
  line L18 (8.5414, 3.1214) -> (9.8222, 4.4022)
  arc A8 (9.8222, 4.4022) -> (10, 4.8314) centre (9.3929, 4.8314) ccw
  line L19 (10, 4.8314) -> (10, 9.5)
  arc A9 (10, 9.5) -> (9.5, 10) centre (9.5, 9.5) ccw
  line L20 (9.5, 10) -> (4.8314, 10)
  arc A10 (4.8314, 10) -> (4.4022, 9.8222) centre (4.8314, 9.3929) ccw
  line L21 (4.4022, 9.8222) -> (3.1214, 8.5414)
  arc A11 (3.1214, 8.5414) -> (3.2628, 8.2) centre (3.2628, 8.4) ccw
  line L22 (3.2628, 8.2) -> (5.5, 8.2)
  line L23 (5.5, 8.2) -> (5.5, 6.5607)
  line L24 (5.5, 6.5607) -> (2.8393, 3.9)
  line L25 (2.8393, 3.9) -> (-2.8393, 3.9)
  line L26 (-2.8393, 3.9) -> (-5.5, 6.5607)
  line L27 (-5.5, 6.5607) -> (-5.5, 8.2)
  line L28 (-5.5, 8.2) -> (-3.2628, 8.2)
  arc A12 (-3.2628, 8.2) -> (-3.1214, 8.5414) centre (-3.2628, 8.4) ccw
  line L29 (-3.1214, 8.5414) -> (-4.4312, 9.8494)
  arc A13 (-4.4312, 9.8494) -> (-4.8314, 10) centre (-4.8314, 9.3929) ccw
  line L30 (-4.8314, 10) -> (-9.5, 10)
  arc A14 (-9.5, 10) -> (-10, 9.5) centre (-9.5, 9.5) ccw
  line L31 (-10, 9.5) -> (-10, 4.9)
  arc A15 (-10, 4.9) -> (-9.8494, 4.4312) centre (-9.3734, 4.8428) ccw
  line L32 (-9.8494, 4.4312) -> (-8.5414, 3.1214)
  arc A16 (-8.5414, 3.1214) -> (-8.2, 3.2628) centre (-8.4, 3.2628) ccw
  line L33 (-8.2, 3.2628) -> (-8.2, 5.5)
  line L34 (-8.2, 5.5) -> (-6.5607, 5.5)
  line L35 (-6.5607, 5.5) -> (-3.9, 2.8393)
  line L36 (-3.9, 2.8393) -> (-3.9, -2.8393)
  line L37 (-3.9, -2.8393) -> (-6.5607, -5.5)
  line L38 (-6.5607, -5.5) -> (-8.2, -5.5)
  line L39 (-8.2, -5.5) -> (-8.2, -3.2628)
  arc A17 (-8.2, -3.2628) -> (-8.5414, -3.1214) centre (-8.4, -3.2628) ccw
  line L40 (-8.5414, -3.1214) -> (-9.8222, -4.4022)
  arc A18 (-9.8222, -4.4022) -> (-9.9987, -4.7917) centre (-9.3929, -4.8314) ccw
  line L41 (-9.9987, -4.7917) -> (-10, -9.5)
  arc A19 (-10, -9.5) -> (-9.5, -10) centre (-9.5, -9.5) ccw
  line L42 (-9.5, -10) -> (-4.8314, -10)
  arc A20 (-4.8314, -10) -> (-4.4022, -9.8222) centre (-4.8314, -9.3929) ccw
  line L43 (-4.4022, -9.8222) -> (-3.1214, -8.5414)
  line L44 (-5.8557, 10) -> (6.4454, 10) construction
